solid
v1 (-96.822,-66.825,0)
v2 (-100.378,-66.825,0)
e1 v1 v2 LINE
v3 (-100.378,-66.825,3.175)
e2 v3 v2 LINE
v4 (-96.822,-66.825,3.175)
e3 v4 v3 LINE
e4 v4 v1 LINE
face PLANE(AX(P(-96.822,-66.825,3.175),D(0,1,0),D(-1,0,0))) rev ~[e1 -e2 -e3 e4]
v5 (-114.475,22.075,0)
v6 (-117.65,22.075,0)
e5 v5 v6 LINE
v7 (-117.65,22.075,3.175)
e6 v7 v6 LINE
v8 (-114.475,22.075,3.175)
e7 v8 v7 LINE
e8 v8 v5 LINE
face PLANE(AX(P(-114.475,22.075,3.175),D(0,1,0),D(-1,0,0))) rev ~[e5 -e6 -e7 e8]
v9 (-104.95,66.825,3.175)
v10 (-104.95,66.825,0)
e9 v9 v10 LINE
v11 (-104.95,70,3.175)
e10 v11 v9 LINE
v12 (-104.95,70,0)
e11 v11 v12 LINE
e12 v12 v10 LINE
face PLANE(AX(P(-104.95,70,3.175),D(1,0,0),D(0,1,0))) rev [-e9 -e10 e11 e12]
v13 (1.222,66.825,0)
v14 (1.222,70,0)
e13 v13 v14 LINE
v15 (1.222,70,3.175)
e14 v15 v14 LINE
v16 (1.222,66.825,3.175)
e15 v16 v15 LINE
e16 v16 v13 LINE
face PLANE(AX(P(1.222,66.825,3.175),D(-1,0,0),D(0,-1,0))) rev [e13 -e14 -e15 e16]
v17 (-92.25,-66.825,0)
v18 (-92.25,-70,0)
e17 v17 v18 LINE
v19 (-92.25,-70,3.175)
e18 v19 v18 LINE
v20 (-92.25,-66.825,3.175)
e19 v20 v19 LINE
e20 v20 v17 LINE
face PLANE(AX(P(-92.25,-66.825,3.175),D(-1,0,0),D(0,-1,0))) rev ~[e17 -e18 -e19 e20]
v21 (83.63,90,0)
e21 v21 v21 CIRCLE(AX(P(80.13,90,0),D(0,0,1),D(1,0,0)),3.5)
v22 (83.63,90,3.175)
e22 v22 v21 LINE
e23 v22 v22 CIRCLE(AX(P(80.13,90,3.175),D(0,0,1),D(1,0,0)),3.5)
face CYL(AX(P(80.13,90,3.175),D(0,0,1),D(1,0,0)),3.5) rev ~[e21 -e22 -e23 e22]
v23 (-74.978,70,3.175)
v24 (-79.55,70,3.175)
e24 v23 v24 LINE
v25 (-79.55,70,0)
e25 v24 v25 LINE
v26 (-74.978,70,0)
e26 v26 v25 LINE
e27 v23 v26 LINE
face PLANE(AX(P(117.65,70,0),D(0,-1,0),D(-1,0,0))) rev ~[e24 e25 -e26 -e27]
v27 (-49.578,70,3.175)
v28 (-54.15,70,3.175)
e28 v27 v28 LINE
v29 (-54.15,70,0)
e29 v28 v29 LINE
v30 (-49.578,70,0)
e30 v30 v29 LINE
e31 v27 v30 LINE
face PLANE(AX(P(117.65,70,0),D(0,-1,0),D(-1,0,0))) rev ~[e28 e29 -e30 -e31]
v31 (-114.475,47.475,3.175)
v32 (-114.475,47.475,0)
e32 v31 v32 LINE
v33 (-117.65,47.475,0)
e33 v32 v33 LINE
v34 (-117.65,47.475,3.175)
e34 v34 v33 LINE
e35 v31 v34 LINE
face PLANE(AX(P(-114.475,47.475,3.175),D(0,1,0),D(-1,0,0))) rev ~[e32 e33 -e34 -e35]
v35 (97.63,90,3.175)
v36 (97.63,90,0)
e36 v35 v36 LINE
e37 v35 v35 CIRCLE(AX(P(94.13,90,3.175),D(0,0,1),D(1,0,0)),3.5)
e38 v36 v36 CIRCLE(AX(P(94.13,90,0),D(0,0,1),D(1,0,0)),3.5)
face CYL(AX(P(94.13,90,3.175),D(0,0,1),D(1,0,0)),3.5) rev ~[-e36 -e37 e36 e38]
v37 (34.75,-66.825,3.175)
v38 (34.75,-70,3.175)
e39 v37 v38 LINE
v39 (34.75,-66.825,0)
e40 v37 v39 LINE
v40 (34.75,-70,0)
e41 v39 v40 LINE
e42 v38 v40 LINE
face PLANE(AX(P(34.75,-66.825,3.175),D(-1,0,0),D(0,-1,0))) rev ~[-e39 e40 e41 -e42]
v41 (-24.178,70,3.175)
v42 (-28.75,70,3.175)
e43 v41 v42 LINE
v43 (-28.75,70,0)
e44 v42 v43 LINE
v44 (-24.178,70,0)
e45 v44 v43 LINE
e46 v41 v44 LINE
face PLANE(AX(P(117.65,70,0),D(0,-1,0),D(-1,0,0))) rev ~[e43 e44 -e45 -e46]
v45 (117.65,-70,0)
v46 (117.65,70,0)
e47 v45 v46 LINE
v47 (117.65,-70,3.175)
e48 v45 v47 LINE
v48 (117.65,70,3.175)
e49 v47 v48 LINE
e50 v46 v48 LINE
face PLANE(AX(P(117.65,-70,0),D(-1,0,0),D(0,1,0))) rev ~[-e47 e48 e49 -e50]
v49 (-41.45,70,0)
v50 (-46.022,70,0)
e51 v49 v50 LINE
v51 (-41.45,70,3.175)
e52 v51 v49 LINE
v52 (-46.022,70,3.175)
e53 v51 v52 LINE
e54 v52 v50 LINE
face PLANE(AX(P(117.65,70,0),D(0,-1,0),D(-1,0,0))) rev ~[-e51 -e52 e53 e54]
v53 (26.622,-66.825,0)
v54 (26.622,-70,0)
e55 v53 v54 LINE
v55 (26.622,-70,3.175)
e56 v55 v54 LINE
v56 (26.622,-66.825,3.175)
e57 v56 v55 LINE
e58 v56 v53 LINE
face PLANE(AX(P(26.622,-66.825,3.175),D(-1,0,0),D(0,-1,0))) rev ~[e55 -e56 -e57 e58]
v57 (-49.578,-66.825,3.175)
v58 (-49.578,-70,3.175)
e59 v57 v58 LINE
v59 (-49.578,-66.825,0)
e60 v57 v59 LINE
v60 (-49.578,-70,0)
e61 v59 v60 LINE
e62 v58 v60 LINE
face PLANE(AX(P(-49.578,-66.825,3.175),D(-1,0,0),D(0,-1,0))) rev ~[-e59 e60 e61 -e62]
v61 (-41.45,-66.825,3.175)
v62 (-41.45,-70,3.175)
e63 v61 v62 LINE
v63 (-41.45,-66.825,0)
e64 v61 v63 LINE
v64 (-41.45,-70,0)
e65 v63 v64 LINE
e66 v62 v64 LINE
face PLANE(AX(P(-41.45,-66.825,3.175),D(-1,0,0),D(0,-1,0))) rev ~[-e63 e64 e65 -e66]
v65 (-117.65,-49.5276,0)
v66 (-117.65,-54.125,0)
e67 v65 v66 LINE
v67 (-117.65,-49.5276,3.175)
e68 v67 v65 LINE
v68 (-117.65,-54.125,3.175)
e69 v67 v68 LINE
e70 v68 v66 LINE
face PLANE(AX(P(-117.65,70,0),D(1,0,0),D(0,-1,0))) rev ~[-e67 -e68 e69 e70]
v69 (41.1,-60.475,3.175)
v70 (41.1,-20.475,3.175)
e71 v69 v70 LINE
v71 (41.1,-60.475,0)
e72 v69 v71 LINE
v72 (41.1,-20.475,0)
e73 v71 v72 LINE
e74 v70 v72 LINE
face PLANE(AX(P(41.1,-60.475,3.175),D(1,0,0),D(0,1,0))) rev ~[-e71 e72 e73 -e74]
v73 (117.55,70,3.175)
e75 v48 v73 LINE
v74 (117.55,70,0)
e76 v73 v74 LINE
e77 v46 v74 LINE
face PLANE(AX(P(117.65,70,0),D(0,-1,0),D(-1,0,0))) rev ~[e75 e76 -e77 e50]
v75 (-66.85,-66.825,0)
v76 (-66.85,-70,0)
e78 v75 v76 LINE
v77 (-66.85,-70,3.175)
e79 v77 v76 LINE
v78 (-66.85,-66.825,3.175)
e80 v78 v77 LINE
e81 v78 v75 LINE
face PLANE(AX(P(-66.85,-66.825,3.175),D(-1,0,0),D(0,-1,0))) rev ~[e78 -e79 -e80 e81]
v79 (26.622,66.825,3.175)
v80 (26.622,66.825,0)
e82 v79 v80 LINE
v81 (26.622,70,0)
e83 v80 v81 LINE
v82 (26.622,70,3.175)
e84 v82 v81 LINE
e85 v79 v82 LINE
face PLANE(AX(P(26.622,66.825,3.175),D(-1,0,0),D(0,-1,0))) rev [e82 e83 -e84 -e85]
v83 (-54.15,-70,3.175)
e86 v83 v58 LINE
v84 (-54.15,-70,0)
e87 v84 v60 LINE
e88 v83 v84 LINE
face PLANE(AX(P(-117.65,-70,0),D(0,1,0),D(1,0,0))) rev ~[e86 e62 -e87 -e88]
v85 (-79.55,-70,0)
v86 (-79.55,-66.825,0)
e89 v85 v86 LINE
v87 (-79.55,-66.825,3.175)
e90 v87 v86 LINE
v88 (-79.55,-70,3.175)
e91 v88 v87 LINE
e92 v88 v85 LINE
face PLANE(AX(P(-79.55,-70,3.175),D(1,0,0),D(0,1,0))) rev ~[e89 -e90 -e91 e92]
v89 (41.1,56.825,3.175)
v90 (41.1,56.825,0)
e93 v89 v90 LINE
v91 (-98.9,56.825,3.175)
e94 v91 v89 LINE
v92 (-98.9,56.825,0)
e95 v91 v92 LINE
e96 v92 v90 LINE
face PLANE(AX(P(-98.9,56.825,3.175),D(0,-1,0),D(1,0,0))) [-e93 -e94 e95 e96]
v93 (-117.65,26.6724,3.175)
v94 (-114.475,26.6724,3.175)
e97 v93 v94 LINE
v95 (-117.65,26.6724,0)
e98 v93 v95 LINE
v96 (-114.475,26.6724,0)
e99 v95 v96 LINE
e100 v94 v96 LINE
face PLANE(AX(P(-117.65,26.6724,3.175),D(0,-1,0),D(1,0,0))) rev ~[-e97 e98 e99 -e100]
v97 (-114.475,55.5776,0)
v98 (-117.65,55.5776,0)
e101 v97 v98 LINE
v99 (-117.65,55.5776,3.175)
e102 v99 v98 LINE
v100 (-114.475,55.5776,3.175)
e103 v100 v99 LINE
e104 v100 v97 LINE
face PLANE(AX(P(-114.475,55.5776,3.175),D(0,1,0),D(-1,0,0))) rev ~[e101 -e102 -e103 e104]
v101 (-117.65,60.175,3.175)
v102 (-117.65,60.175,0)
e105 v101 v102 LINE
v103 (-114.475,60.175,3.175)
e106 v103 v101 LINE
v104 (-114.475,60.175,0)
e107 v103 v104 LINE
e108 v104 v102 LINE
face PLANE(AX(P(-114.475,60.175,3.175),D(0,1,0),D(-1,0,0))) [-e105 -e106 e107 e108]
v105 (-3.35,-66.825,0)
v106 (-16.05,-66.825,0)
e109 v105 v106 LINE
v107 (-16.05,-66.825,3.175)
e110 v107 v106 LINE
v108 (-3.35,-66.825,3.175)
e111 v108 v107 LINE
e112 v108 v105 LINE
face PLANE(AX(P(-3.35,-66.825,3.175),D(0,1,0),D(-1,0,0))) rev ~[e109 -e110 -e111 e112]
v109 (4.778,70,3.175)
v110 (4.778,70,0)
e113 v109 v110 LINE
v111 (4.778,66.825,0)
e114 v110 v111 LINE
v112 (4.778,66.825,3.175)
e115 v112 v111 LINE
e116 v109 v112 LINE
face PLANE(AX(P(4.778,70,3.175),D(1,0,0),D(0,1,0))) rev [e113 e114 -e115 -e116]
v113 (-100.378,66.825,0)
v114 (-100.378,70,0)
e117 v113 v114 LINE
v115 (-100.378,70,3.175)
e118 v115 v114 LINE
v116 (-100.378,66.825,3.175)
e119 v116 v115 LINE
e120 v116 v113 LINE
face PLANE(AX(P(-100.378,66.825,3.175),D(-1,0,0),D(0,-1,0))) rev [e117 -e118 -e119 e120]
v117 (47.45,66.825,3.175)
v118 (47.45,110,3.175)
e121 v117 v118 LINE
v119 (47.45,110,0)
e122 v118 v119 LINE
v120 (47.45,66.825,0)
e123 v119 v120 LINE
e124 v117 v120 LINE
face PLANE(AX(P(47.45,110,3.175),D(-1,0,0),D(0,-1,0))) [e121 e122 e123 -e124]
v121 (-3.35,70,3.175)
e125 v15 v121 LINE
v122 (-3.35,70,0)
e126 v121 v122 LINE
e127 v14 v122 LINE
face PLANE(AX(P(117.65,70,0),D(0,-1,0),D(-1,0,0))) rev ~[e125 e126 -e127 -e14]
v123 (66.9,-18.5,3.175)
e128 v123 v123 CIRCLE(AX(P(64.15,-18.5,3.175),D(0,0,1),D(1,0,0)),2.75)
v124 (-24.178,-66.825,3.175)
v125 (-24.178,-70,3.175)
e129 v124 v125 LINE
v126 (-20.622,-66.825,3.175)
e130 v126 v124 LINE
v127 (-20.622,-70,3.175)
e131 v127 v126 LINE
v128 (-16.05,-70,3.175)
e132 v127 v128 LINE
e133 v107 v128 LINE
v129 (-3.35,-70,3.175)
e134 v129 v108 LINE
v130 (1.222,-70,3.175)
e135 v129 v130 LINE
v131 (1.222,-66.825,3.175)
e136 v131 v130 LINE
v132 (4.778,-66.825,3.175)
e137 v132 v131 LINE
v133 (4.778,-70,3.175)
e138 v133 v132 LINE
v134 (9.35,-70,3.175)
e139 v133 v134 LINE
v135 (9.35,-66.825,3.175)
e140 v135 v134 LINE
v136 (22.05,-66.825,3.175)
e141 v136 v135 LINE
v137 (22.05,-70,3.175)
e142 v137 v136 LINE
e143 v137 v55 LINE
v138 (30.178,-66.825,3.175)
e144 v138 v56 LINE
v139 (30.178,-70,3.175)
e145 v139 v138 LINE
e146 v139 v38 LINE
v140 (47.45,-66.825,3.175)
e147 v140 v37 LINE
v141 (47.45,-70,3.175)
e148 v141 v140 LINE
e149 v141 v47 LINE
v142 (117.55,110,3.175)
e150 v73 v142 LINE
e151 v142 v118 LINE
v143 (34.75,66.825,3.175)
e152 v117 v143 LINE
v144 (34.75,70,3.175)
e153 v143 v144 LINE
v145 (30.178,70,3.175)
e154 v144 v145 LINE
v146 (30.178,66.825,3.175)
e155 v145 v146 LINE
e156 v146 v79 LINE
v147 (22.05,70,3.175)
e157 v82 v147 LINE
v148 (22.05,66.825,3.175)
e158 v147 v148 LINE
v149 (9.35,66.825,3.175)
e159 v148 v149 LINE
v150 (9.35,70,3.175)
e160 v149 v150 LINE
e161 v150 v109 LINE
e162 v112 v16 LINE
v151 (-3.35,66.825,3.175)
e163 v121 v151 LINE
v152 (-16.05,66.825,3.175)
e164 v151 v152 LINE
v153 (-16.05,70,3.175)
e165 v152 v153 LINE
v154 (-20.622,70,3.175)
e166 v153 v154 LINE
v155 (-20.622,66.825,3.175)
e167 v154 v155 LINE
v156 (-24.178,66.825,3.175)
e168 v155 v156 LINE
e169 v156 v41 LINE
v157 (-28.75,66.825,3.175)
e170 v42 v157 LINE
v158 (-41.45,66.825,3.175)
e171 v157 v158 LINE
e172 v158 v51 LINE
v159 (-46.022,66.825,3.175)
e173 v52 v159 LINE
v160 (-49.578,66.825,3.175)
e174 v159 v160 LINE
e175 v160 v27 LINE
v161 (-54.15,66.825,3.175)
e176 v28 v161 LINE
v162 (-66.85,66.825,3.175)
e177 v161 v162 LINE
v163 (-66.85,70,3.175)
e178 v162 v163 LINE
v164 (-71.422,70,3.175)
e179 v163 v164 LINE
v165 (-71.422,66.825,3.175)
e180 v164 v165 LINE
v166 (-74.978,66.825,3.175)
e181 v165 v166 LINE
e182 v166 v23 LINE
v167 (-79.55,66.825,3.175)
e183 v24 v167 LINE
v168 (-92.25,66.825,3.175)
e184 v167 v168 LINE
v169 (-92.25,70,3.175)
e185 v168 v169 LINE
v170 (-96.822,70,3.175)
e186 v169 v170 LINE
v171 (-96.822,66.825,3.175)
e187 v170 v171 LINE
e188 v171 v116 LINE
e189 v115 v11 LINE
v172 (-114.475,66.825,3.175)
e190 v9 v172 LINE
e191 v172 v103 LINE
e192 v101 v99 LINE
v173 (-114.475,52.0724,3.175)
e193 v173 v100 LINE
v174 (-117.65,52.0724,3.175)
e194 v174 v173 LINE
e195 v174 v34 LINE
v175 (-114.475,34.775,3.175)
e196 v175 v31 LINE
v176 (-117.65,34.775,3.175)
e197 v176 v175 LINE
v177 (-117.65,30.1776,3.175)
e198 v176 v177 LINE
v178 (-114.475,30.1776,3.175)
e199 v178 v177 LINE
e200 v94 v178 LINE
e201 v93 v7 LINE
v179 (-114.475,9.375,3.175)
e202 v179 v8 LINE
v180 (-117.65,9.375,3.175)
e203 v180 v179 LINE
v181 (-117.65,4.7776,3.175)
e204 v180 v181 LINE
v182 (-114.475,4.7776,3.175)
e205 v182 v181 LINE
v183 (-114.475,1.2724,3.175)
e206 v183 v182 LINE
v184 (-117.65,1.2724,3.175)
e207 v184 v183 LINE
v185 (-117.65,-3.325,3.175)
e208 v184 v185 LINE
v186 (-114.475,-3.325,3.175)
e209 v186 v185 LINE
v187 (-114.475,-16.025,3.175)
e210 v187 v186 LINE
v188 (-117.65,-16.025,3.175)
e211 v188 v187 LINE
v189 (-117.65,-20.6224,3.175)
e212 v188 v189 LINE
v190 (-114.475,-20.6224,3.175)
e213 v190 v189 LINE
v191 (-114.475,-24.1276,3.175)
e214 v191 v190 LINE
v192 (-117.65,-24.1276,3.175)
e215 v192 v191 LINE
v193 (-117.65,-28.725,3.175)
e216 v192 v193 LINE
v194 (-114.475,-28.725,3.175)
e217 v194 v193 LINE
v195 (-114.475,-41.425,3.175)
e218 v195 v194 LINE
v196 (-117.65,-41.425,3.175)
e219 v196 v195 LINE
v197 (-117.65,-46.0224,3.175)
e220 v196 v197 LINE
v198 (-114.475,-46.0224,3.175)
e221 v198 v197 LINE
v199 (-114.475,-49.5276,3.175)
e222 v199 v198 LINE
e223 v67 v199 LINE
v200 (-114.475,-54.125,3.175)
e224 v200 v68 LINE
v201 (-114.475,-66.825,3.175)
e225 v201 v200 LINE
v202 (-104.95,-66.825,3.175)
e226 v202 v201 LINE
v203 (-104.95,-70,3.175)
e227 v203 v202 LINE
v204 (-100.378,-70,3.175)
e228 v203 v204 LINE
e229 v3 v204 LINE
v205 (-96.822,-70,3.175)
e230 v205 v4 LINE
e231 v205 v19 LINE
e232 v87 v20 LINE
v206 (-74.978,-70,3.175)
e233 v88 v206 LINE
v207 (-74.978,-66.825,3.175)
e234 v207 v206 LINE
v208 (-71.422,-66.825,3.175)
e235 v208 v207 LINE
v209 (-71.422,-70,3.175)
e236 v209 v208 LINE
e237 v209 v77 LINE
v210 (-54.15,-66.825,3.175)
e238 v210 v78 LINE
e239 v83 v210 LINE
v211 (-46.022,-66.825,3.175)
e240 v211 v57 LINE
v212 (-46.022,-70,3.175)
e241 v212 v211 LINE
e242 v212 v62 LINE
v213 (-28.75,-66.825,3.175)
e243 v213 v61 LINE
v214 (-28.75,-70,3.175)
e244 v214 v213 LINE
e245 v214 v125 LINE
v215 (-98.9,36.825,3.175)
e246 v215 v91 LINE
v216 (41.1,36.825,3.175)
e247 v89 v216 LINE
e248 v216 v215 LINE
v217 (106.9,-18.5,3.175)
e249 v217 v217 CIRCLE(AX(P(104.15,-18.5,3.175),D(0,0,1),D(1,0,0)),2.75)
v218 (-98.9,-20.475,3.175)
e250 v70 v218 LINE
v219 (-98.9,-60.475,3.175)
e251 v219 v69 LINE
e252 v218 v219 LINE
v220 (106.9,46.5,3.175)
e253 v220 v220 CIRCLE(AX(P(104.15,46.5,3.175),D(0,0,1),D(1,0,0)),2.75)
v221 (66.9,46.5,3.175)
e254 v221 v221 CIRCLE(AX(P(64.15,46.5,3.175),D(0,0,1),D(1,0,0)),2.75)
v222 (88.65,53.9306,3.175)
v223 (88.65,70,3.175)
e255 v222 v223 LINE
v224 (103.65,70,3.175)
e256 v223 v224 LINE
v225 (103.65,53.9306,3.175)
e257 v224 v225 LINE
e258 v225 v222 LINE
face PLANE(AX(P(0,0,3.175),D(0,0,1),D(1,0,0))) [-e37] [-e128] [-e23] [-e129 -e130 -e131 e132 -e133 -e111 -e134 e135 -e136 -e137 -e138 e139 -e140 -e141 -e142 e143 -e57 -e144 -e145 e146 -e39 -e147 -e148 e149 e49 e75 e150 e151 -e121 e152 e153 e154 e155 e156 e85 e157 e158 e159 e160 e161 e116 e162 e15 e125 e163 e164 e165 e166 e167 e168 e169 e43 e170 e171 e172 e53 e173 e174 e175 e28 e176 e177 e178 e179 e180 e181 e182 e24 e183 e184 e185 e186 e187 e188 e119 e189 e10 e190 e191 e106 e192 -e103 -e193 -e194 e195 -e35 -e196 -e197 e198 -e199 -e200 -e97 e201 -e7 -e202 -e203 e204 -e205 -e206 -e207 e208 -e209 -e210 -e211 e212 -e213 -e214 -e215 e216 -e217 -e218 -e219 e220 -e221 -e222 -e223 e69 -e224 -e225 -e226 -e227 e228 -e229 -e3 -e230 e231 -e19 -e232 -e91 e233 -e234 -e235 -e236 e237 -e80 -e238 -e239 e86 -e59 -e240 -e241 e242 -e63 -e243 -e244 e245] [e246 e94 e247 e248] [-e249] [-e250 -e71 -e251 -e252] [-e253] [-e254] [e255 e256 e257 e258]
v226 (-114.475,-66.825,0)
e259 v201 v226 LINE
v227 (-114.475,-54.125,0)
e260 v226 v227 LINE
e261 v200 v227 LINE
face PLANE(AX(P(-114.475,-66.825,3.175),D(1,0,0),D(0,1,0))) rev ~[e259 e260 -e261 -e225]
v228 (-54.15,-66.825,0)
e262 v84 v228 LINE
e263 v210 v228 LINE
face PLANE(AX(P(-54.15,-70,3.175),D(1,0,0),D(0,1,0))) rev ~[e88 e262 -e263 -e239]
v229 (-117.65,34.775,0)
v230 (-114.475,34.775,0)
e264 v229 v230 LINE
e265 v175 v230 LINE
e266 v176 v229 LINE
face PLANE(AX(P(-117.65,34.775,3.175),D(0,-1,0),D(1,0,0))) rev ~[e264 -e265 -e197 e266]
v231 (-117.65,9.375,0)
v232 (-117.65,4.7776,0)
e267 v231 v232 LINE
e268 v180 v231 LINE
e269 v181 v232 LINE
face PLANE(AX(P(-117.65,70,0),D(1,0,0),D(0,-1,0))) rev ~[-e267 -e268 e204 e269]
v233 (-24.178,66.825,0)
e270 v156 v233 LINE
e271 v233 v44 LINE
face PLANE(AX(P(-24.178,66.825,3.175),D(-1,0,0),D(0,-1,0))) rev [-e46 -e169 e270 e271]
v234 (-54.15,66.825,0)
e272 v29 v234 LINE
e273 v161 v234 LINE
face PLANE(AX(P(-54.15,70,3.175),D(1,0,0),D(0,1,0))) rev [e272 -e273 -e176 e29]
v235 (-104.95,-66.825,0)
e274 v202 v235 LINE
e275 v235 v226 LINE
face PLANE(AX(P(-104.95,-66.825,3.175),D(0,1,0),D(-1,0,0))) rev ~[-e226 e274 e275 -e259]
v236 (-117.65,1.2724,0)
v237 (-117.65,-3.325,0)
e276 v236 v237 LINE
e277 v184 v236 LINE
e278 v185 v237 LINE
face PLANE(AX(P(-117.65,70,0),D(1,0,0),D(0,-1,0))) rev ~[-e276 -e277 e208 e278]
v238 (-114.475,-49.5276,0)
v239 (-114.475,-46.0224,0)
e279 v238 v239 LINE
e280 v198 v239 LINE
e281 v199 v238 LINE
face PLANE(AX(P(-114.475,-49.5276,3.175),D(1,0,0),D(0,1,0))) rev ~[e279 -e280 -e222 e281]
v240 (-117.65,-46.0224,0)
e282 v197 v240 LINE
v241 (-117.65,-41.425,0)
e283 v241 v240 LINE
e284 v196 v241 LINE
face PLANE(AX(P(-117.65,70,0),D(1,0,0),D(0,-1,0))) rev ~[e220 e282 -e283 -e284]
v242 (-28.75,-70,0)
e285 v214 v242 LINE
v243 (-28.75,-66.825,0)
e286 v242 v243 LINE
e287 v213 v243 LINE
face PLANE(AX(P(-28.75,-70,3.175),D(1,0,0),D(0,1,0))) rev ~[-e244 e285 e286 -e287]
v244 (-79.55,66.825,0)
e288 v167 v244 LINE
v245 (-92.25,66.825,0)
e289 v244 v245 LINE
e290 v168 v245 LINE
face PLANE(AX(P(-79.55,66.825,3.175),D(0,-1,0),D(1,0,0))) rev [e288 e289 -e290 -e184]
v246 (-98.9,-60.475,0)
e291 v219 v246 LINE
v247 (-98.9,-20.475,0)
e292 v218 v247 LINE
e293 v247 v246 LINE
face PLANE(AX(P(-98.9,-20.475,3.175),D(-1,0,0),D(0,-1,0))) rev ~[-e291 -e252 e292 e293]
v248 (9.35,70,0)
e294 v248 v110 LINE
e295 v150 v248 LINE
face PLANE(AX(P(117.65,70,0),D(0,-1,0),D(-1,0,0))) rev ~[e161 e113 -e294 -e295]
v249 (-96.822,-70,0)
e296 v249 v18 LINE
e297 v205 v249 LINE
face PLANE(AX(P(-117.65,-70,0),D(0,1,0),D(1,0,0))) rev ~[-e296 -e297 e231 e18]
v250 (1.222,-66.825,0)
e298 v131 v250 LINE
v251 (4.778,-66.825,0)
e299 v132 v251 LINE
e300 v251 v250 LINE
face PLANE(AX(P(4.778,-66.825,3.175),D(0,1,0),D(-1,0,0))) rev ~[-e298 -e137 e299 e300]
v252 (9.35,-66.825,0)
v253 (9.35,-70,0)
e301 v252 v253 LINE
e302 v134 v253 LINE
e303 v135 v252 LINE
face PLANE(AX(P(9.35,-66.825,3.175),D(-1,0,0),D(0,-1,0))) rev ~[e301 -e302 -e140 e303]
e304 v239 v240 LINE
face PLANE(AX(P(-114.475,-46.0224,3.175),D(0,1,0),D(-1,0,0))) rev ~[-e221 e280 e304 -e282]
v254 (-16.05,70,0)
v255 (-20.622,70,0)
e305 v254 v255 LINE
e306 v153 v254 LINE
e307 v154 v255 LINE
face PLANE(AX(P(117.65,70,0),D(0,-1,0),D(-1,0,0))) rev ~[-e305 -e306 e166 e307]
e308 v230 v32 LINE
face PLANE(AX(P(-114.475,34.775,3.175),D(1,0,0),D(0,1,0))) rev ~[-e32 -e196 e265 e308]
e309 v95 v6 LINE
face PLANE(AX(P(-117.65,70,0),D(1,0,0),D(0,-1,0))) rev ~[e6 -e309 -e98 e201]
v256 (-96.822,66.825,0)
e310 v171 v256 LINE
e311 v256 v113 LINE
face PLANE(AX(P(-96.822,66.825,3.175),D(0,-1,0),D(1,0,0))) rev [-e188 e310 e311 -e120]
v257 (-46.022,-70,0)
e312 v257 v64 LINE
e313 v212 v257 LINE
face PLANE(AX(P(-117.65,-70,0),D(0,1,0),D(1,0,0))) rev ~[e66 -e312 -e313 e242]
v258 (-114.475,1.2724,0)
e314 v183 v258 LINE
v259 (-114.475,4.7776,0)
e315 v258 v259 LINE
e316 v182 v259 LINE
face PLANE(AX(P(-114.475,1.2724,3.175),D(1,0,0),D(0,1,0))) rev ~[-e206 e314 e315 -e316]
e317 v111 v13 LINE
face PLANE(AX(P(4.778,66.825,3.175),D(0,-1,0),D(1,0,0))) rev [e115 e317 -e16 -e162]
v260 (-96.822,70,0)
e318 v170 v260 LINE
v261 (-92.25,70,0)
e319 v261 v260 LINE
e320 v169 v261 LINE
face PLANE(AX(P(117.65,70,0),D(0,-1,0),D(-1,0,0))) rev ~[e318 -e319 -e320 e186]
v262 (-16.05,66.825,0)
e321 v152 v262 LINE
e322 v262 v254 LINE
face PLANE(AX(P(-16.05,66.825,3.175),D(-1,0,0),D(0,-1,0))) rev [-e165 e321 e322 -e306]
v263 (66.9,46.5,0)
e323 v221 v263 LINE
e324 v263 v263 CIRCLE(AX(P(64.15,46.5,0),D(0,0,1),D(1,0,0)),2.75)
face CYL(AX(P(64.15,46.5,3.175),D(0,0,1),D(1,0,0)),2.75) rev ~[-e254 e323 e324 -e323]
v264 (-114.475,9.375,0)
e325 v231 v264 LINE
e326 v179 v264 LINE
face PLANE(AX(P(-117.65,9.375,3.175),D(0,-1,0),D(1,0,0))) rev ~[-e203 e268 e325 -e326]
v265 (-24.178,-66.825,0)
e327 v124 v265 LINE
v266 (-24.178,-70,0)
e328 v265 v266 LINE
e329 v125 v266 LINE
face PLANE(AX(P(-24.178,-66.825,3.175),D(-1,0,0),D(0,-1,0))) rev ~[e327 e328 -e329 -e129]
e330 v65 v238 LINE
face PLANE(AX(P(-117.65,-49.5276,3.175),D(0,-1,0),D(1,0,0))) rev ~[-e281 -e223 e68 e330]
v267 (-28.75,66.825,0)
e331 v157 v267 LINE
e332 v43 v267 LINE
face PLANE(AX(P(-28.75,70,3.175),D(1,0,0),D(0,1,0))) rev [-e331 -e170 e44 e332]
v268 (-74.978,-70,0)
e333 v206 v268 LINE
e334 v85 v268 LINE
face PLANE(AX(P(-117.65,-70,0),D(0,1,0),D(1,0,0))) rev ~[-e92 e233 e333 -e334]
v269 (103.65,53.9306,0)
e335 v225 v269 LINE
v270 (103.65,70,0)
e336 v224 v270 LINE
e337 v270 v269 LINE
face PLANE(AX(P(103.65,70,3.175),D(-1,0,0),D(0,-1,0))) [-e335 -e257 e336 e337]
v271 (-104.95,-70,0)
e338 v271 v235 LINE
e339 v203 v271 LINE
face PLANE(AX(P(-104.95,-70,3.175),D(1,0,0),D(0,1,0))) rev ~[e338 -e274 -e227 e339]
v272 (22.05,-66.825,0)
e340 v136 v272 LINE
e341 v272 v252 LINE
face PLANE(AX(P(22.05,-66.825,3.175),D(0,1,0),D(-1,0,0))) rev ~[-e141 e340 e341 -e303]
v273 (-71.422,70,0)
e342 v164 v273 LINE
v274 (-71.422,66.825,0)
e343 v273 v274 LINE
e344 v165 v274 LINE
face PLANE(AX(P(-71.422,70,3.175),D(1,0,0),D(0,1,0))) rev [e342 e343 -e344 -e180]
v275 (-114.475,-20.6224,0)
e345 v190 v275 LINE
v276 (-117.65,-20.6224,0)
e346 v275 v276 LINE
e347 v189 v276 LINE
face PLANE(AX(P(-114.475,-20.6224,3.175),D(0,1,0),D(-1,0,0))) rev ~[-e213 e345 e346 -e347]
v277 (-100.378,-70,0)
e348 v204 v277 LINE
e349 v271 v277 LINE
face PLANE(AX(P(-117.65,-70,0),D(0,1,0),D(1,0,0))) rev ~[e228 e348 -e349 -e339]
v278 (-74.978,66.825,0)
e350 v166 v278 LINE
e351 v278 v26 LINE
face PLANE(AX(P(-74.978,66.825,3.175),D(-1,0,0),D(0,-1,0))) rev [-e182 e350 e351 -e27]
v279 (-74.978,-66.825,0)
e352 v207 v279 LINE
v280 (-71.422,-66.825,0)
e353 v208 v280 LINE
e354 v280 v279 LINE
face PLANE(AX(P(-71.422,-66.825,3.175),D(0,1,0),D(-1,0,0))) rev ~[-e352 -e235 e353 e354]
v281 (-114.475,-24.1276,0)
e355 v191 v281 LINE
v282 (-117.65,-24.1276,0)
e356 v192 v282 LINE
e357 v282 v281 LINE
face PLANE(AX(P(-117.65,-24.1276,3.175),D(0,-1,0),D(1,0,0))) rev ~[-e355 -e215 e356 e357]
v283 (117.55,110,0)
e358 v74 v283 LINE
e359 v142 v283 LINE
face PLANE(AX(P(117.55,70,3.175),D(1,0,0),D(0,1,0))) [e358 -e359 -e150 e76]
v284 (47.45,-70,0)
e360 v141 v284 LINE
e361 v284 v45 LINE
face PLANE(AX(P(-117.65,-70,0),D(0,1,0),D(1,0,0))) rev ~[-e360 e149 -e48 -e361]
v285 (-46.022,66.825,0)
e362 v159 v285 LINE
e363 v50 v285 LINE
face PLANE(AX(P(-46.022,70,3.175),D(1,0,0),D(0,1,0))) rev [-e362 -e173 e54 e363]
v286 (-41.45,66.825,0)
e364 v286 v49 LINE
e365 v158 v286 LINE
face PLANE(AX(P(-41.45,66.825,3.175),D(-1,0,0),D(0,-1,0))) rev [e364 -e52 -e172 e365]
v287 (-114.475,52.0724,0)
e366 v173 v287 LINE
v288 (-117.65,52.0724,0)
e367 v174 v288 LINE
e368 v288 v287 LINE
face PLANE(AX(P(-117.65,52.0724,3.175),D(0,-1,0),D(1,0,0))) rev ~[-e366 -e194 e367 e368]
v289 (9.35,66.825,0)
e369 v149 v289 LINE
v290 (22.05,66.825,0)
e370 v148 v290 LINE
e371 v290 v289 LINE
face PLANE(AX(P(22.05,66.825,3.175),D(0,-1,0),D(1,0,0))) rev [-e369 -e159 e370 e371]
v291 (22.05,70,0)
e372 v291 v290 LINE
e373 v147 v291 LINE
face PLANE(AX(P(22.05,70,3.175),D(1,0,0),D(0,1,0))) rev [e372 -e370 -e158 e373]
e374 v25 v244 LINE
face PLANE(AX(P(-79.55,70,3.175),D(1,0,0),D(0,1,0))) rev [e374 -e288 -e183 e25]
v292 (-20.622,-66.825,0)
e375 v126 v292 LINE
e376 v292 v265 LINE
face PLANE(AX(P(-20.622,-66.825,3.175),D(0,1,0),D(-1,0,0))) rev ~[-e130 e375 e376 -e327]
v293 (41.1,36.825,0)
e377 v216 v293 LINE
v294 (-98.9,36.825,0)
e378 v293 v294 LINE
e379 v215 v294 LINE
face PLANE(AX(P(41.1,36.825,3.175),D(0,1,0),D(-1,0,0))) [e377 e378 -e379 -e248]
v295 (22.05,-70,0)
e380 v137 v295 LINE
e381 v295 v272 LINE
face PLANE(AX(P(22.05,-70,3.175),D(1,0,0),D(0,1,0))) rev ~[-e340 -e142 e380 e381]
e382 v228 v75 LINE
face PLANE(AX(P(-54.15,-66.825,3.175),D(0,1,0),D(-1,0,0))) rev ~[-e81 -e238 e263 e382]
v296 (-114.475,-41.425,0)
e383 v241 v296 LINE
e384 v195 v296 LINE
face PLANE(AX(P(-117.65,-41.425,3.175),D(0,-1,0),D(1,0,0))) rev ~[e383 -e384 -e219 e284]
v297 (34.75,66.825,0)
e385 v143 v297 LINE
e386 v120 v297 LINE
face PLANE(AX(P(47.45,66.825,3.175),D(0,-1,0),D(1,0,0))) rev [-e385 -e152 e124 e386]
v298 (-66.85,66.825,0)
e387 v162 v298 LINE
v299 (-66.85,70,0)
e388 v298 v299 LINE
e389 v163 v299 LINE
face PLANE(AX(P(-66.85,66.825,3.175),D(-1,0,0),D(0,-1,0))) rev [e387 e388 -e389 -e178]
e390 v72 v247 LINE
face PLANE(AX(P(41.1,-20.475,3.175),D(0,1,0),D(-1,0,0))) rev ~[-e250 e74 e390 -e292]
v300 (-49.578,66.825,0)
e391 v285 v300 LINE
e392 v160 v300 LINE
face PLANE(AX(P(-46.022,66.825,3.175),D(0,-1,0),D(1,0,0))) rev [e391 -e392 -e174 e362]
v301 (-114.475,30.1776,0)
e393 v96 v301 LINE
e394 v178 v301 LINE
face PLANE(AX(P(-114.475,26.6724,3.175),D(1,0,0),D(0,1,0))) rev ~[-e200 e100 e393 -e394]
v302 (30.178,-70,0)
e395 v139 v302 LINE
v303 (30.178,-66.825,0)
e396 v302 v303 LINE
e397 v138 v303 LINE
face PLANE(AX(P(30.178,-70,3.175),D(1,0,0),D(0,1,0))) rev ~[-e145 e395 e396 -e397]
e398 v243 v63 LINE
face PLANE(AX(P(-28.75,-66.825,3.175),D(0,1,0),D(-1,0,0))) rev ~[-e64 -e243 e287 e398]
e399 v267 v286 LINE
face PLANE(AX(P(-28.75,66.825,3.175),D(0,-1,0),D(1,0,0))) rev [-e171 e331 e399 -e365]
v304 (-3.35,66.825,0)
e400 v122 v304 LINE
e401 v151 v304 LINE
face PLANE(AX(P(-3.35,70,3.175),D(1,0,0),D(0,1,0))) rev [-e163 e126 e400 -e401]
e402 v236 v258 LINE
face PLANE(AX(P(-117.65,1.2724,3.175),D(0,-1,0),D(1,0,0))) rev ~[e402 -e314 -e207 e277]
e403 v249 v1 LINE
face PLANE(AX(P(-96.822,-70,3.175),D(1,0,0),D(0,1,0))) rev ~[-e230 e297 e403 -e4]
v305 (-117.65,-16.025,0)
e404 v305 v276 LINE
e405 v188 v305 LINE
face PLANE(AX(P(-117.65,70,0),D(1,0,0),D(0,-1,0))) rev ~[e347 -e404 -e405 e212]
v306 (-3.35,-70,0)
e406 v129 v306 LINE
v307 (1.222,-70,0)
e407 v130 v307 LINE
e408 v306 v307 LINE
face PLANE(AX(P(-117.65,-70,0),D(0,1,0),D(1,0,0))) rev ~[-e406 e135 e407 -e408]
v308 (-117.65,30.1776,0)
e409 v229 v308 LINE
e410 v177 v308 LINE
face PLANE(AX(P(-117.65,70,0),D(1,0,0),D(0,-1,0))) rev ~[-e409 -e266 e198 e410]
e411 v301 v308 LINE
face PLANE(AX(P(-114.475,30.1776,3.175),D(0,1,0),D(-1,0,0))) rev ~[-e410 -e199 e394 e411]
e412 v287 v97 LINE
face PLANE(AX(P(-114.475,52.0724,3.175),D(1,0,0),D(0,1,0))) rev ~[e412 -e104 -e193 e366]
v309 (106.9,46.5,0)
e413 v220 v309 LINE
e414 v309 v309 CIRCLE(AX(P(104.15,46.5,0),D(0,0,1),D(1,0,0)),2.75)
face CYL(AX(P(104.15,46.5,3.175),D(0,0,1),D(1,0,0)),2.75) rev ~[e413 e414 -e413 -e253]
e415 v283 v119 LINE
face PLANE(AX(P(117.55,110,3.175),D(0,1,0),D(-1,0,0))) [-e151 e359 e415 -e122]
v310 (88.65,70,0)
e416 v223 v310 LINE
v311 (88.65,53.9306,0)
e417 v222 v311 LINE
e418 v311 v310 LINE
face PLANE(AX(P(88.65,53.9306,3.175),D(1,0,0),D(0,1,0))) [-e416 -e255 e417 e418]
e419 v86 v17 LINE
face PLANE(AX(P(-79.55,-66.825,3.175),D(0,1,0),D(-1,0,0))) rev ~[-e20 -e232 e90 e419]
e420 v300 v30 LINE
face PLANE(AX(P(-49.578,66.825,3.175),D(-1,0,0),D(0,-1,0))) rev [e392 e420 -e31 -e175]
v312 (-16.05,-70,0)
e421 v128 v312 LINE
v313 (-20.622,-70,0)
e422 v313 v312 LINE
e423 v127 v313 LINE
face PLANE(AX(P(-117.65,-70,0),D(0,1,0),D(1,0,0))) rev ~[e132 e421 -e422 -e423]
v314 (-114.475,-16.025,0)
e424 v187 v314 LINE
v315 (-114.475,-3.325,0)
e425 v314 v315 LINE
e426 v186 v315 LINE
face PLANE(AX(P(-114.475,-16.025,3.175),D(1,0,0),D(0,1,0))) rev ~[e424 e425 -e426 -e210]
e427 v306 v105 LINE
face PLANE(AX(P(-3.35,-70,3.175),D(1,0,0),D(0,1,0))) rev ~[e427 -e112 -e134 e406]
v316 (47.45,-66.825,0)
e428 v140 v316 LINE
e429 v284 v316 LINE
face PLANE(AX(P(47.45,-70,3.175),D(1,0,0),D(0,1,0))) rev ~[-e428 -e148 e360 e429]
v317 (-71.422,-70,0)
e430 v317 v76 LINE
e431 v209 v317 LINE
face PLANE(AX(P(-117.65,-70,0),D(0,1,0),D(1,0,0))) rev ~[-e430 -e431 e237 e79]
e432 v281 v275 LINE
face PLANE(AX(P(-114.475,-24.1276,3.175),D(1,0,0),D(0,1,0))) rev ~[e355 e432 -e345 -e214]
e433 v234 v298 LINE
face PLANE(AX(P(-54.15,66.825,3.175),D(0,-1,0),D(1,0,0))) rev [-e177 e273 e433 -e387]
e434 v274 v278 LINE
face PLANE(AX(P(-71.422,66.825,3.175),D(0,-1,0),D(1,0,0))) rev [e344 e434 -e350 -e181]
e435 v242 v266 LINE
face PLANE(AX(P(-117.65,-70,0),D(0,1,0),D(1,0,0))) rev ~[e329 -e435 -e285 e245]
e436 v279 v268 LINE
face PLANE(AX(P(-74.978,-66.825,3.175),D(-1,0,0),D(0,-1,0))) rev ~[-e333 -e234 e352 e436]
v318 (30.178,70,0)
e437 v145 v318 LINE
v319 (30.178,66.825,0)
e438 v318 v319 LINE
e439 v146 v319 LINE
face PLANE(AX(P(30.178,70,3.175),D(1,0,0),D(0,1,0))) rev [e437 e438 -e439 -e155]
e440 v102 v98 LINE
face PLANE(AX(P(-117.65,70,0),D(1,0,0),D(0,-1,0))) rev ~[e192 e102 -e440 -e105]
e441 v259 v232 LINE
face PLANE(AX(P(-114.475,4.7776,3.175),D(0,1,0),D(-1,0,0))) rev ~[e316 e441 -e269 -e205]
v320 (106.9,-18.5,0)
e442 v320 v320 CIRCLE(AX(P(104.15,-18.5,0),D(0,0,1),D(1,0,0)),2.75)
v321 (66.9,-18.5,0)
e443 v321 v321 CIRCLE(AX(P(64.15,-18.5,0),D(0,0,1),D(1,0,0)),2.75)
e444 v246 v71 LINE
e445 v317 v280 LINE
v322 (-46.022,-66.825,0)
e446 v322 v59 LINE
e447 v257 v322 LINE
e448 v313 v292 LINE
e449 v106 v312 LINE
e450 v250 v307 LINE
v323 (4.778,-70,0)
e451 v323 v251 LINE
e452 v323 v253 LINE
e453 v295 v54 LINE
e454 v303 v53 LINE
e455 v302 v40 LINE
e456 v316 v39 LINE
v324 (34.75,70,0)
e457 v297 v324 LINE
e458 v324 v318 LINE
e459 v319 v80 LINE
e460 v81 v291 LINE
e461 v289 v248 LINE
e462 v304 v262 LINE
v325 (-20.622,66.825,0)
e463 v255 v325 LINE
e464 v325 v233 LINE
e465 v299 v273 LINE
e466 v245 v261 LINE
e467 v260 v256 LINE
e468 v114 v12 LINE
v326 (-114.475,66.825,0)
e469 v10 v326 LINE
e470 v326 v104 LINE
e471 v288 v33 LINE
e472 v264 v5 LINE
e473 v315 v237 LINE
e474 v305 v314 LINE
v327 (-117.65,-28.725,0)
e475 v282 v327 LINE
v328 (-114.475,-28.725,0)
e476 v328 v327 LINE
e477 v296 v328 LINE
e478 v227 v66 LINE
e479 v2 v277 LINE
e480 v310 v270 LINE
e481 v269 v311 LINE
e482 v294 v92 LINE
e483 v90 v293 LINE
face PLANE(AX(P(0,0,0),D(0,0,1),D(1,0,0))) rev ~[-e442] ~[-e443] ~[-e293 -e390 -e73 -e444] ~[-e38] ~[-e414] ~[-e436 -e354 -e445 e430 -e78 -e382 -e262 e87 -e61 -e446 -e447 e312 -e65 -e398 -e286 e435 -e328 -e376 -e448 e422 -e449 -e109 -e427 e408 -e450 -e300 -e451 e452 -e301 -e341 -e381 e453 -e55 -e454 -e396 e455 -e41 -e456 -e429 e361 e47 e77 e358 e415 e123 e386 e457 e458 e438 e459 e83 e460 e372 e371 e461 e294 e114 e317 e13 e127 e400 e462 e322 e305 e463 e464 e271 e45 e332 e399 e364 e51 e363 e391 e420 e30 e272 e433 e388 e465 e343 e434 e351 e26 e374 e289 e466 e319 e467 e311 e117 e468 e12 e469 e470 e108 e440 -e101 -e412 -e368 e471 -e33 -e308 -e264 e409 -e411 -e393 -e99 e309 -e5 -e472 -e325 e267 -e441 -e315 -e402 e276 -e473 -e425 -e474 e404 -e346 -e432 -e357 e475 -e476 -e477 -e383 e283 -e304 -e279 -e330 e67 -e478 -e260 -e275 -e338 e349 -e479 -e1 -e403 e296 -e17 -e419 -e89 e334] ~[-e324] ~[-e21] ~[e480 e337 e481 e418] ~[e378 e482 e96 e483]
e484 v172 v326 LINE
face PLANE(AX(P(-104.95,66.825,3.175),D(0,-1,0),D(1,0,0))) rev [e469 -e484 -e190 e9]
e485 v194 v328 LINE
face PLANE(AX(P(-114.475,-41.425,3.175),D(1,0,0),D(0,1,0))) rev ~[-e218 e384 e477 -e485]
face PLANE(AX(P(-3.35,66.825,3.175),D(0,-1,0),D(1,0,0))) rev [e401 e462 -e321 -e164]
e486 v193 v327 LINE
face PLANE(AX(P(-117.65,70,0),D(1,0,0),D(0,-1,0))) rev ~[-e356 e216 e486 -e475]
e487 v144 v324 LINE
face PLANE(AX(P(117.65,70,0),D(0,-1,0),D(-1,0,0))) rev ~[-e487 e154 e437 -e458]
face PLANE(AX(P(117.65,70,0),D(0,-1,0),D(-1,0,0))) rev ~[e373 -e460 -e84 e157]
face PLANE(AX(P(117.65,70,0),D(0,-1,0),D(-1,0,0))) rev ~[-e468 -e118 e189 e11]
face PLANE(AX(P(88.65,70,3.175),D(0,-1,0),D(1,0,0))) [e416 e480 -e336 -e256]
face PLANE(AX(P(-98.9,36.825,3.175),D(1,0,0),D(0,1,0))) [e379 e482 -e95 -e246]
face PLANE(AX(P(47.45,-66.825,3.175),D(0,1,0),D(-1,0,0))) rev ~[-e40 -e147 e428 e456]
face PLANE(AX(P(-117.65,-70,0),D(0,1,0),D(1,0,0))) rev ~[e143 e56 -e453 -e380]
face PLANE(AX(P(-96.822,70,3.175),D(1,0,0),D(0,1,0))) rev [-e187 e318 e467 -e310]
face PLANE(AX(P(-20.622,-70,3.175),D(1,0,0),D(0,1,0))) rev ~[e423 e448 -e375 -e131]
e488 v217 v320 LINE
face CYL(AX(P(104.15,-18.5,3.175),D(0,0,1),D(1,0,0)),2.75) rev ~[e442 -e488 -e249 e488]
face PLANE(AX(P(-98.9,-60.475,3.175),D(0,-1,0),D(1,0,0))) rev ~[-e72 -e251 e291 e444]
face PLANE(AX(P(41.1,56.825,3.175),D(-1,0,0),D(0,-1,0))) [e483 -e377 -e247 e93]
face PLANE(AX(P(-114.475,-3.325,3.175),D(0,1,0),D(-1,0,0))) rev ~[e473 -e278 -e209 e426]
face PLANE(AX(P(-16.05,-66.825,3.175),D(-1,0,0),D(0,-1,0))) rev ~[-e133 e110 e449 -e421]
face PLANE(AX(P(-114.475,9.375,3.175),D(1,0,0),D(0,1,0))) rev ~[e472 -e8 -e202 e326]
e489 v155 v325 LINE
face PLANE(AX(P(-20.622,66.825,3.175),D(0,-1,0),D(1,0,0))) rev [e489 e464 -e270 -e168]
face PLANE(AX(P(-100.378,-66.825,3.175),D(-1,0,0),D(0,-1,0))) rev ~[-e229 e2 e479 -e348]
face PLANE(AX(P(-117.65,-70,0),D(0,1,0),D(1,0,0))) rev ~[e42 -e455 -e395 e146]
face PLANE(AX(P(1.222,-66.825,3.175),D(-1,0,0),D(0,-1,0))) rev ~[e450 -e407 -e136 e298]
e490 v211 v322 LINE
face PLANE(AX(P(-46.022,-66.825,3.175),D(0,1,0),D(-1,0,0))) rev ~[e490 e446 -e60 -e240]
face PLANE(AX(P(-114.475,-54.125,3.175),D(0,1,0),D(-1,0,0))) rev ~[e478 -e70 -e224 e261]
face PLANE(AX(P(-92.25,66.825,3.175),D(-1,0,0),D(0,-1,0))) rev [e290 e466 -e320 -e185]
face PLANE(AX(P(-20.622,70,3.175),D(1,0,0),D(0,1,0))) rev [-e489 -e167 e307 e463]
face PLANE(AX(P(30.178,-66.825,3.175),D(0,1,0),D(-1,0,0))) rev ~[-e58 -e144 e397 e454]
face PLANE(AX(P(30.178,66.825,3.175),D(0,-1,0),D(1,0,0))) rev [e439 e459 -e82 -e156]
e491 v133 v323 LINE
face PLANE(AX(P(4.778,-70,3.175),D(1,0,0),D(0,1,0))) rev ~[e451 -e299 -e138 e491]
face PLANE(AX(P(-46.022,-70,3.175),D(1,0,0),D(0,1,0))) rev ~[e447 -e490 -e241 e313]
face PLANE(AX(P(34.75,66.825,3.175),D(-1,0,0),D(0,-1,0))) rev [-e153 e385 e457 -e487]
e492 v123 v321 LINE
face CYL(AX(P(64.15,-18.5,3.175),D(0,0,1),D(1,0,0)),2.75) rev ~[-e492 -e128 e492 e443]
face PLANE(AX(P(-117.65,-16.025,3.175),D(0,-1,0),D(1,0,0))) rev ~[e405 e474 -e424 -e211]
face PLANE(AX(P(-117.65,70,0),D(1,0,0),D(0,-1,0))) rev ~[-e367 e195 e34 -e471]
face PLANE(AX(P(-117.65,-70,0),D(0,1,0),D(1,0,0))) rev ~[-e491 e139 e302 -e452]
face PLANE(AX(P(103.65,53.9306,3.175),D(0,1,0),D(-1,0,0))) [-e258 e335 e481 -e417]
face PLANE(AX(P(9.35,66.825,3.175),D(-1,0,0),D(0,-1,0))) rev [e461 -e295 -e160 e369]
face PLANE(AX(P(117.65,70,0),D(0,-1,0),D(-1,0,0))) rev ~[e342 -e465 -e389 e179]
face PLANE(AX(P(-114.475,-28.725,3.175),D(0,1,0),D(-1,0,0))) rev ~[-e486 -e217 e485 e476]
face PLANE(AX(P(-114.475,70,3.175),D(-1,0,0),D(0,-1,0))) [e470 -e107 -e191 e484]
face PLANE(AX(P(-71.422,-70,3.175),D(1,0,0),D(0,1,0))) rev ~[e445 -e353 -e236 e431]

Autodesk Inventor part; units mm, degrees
ref_plane "YZ Plane" through (0, 0, 0) normal (1, 0, 0) x (0, 1, 0)
ref_plane "XZ Plane" through (0, 0, 0) normal (0, 1, 0) x (-1, 0, 0)
ref_plane "XY Plane" through (0, 0, 0) normal (0, 0, 1) x (1, 0, 0)
sketch "Sketch1" plane through (0, 0, 0) normal (0, 0, 1) x (1, 0, 0)
  line L0 (-117.65, -70) -> (117.65, -70)
  line L1 (117.65, -70) -> (117.65, 70)
  line L2 (117.65, 70) -> (-117.65, 70)
  line L3 (-117.65, 70) -> (-117.65, -70)
  point P0 (0, 0)
  point P1 (-117.65, 0)
  point P2 (0, 70)
  dimension "d0" = 235.3
  dimension "d1" = 140
extrude "Extrusion1" add sketch "Sketch1" along normal blind 3.175
sketch "Sketch2" plane through (0, 0, 3.175) normal (0, 0, 1) x (1, 0, 0)
  circle A0 centre (104.15, 46.5) radius 2.75
  line L0 (117.65, 70) -> (-117.65, 70) projected
  line L1 (117.65, -70) -> (117.65, 70) projected
  circle A1 centre (64.15, 46.5) radius 2.75
  circle A2 centre (104.15, -18.5) radius 2.75
  circle A3 centre (64.15, -18.5) radius 2.75
  point P0 (0, 0)
  dimension "d4" = 23.5
  dimension "d5" = 13.5
  dimension "d6" = 5.5
  dimension "d7" = 5.5
  dimension "d8" = 23.5
  dimension "d9" = 40
  dimension "d10" = 5.5
  dimension "d11" = 13.5
  dimension "d12" = 65
  dimension "d13" = 5.5
  dimension "d14" = 40
  dimension "d15" = 65
extrude "Extrusion2" cut sketch "Sketch2" against normal through all
sketch "Sketch3" plane through (0, 0, 3.175) normal (0, 0, 1) x (1, 0, 0)
  line L0 (-117.65, 70) -> (-117.65, -70) projected
  line L1 (-117.65, -70) -> (-104.95, -70)
  line L2 (-104.95, -70) -> (-104.95, -66.825)
  line L3 (-104.95, -66.825) -> (-117.65, -66.825)
  line L4 (-117.65, -66.825) -> (-117.65, -70)
  point P0 (0, 0)
  dimension "d18" = 12.7
  dimension "d19" = 3.175
extrude "Extrusion3" cut sketch "Sketch3" against normal through all
sketch "Sketch4" plane through (0, 0, 3.175) normal (0, 0, 1) x (1, 0, 0)
  line L0 (-104.95, -70) -> (117.65, -70) projected
  line L1 (-100.378, -70) -> (-96.822, -70)
  line L2 (-96.822, -70) -> (-96.822, -66.825)
  line L3 (-96.822, -66.825) -> (-100.378, -66.825)
  line L4 (-100.378, -66.825) -> (-100.378, -70)
  line L5 (-104.95, -66.825) -> (-104.95, -70) projected
  point P0 (0, 0)
  dimension "d22" = 3.556
  dimension "d23" = 3.175
  dimension "d24" = 4.572
extrude "Extrusion4" cut sketch "Sketch4" against normal through all
pattern_linear "Rectangular Pattern1" count 6 spacing 25.4 along (1, 0, 0) of "Extrusion3", "Extrusion4"
sketch "Sketch5" plane through (0, 0, 3.175) normal (0, 0, 1) x (1, 0, 0)
  line L0 (-82.65, -45) -> (81.35, -45)
  line L1 (81.35, -45) -> (81.35, 55)
  line L2 (81.35, 55) -> (-82.65, 55)
  line L3 (-82.65, 55) -> (-82.65, -45)
  line L4 (117.65, 70) -> (-117.65, 70) projected
  line L5 (-117.65, 70) -> (-117.65, -66.825) projected
  point P0 (0, 0)
  dimension "d30" = 164
  dimension "d31" = 100
  dimension "d32" = 15
  dimension "d33" = 35
extrude "Extrusion5" [suppressed]
sketch "Sketch6" plane through (0, 0, 3.175) normal (0, 0, 1) x (1, 0, 0)
  circle A0 centre (-195.0968, -60.6866) radius 1.6
  line L0 (-190.0468, 40.3134) -> (-190.0468, -59.6866) projected
  line L1 (-26.0468, -59.6866) -> (-190.0468, -59.6866) projected
  circle A1 centre (-195.0968, 41.3134) radius 1.6
  line L2 (-190.0468, 40.3134) -> (-26.0468, 40.3134) projected
  circle A2 centre (-20.9968, 41.3134) radius 1.6
  line L3 (-26.0468, 40.3134) -> (-26.0468, -59.6866) projected
  circle A3 centre (-20.9968, -60.6866) radius 1.6
  point P0 (0, 0)
  dimension "d36" = 3.2
  dimension "d37" = 5.05
  dimension "d38" = 1
  dimension "d39" = 3.2
  dimension "d40" = 1
  dimension "d41" = 5.05
  dimension "d42" = 3.2
  dimension "d43" = 1
  dimension "d44" = 5.05
  dimension "d45" = 3.2
  dimension "d46" = 1
  dimension "d47" = 5.05
extrude "Extrusion6" [suppressed]
sketch "Sketch7" plane through (0, 0, 3.175) normal (0, 0, 1) x (1, 0, 0)
  line L0 (-117.65, 70) -> (-117.65, -66.825) projected
  line L1 (-117.65, -54.125) -> (-111.3, -54.125)
  line L2 (-111.3, -54.125) -> (-111.3, -41.425)
  line L3 (-111.3, -41.425) -> (-117.65, -41.425)
  line L4 (-117.65, -41.425) -> (-117.65, -54.125)
  line L5 (-117.65, -66.825) -> (-104.95, -66.825) projected
  point P0 (0, 0)
  dimension "d50" = 6.35
  dimension "d51" = 12.7
  dimension "d52" = 12.7
extrude "Extrusion7" [suppressed]
sketch "Sketch8" plane through (0, 0, 3.175) normal (0, 0, 1) x (1, 0, 0)
  line L0 (-148.4968, -45.6366) -> (-148.4968, -32.9366) projected
  line L1 (-148.4968, -41.0646) -> (-145.9568, -41.0646)
  line L2 (-145.9568, -41.0646) -> (-145.9568, -37.5086)
  line L3 (-145.9568, -37.5086) -> (-148.4968, -37.5086)
  line L4 (-148.4968, -37.5086) -> (-148.4968, -41.0646)
  line L5 (-154.8468, -32.9366) -> (-148.4968, -32.9366) projected
  point P0 (0, 0)
  dimension "d55" = 3.556
  dimension "d56" = 4.572
  dimension "d57" = 2.54
extrude "Extrusion8" [suppressed]
sketch "Sketch9" plane through (0, 0, 3.175) normal (0, 0, 1) x (1, 0, 0)
  line L0 (-145.9568, -43.2553) -> (-143.1786, -43.2553)
  line L1 (-143.1786, -43.2553) -> (-143.1786, -35.3178)
  line L2 (-143.1786, -35.3178) -> (-145.9568, -35.3178)
  line L3 (-145.9568, -35.3178) -> (-145.9568, -43.2553)
  line L4 (-145.9568, -37.5086) -> (-145.9568, -41.0646) projected
  line L5 (-117.65, 70) -> (-117.65, -66.825) projected
  line L6 (-117.65, -66.825) -> (-104.95, -66.825) projected
  line L7 (-104.95, -66.825) -> (-104.95, -70) projected
  line L8 (-104.95, -70) -> (-100.378, -70) projected
  line L9 (-100.378, -70) -> (-100.378, -66.825) projected
  line L10 (-100.378, -66.825) -> (-96.822, -66.825) projected
  line L11 (-96.822, -66.825) -> (-96.822, -70) projected
  line L12 (-96.822, -70) -> (-92.25, -70) projected
  line L13 (-92.25, -70) -> (-92.25, -66.825) projected
  line L14 (-92.25, -66.825) -> (-79.55, -66.825) projected
  line L15 (-79.55, -66.825) -> (-79.55, -70) projected
  line L16 (-79.55, -70) -> (-74.978, -70) projected
  line L17 (-74.978, -70) -> (-74.978, -66.825) projected
  line L18 (-74.978, -66.825) -> (-71.422, -66.825) projected
  line L19 (-71.422, -66.825) -> (-71.422, -70) projected
  line L20 (-71.422, -70) -> (-66.85, -70) projected
  line L21 (-66.85, -70) -> (-66.85, -66.825) projected
  line L22 (-66.85, -66.825) -> (-54.15, -66.825) projected
  line L23 (-54.15, -66.825) -> (-54.15, -70) projected
  line L24 (-54.15, -70) -> (-49.578, -70) projected
  line L25 (-49.578, -70) -> (-49.578, -66.825) projected
  line L26 (-49.578, -66.825) -> (-46.022, -66.825) projected
  line L27 (-46.022, -66.825) -> (-46.022, -70) projected
  line L28 (-46.022, -70) -> (-41.45, -70) projected
  line L29 (-41.45, -70) -> (-41.45, -66.825) projected
  line L30 (-41.45, -66.825) -> (-28.75, -66.825) projected
  line L31 (-28.75, -66.825) -> (-28.75, -70) projected
  line L32 (-28.75, -70) -> (-24.178, -70) projected
  line L33 (-24.178, -70) -> (-24.178, -66.825) projected
  line L34 (-24.178, -66.825) -> (-20.622, -66.825) projected
  line L35 (-20.622, -66.825) -> (-20.622, -70) projected
  line L36 (-20.622, -70) -> (-16.05, -70) projected
  line L37 (-16.05, -70) -> (-16.05, -66.825) projected
  line L38 (-16.05, -66.825) -> (-3.35, -66.825) projected
  line L39 (-3.35, -66.825) -> (-3.35, -70) projected
  line L40 (-3.35, -70) -> (1.222, -70) projected
  line L41 (1.222, -70) -> (1.222, -66.825) projected
  line L42 (1.222, -66.825) -> (4.778, -66.825) projected
  line L43 (4.778, -66.825) -> (4.778, -70) projected
  line L44 (4.778, -70) -> (9.35, -70) projected
  line L45 (9.35, -70) -> (9.35, -66.825) projected
  line L46 (9.35, -66.825) -> (22.05, -66.825) projected
  line L47 (22.05, -66.825) -> (22.05, -70) projected
  line L48 (22.05, -70) -> (26.622, -70) projected
  line L49 (26.622, -70) -> (26.622, -66.825) projected
  line L50 (26.622, -66.825) -> (30.178, -66.825) projected
  line L51 (30.178, -66.825) -> (30.178, -70) projected
  line L52 (117.65, -70) -> (117.65, 70) projected
  line L53 (117.65, 70) -> (-117.65, 70) projected
  circle A0 centre (104.15, -18.5) radius 2.75 projected
  circle A1 centre (104.15, 46.5) radius 2.75 projected
  circle A2 centre (64.15, 46.5) radius 2.75 projected
  circle A3 centre (64.15, -18.5) radius 2.75 projected
  line L54 (30.178, -70) -> (117.65, -70) projected
  point P0 (0, 0)
  dimension "d60" = 2.7781
  dimension "d61" = 7.9375
extrude "Extrusion9" [suppressed]
sketch "Sketch10" plane through (0, 0, 3.175) normal (0, 0, 1) x (1, 0, 0)
  line L0 (-143.1786, -41.0643) -> (-102.41, -41.0643)
  line L1 (-102.41, -41.0643) -> (-102.41, -37.5088)
  line L2 (-102.41, -37.5088) -> (-143.1786, -37.5088)
  line L3 (-143.1786, -37.5088) -> (-143.1786, -41.0643)
  line L4 (-145.9568, -35.3178) -> (-143.1786, -35.3178) projected
  line L5 (-143.1786, -43.2553) -> (-145.9568, -43.2553) projected
  line L6 (-143.1786, -35.3178) -> (-143.1786, -43.2553) projected
  line L7 (-117.65, 70) -> (-117.65, -66.825) projected
  point P0 (0, 0)
  point P1 (-154.8468, -45.6366)
  point P2 (-117.65, -66.825)
  dimension "d65" = 2.191
  dimension "d66" = 2.191
  dimension "d67" = 0
  dimension "d68" = 15.24
extrude "Extrusion10" [suppressed]
sketch "Sketch11" plane through (0, 0, 3.175) normal (0, 0, 1) x (1, 0, 0)
  line L0 (-117.65, 70) -> (-117.65, -66.825) projected
  line L1 (-117.65, -66.825) -> (-114.475, -66.825)
  line L2 (-114.475, -66.825) -> (-114.475, -54.125)
  line L3 (-114.475, -54.125) -> (-117.65, -54.125)
  line L4 (-117.65, -54.125) -> (-117.65, -66.825)
  point P0 (0, 0)
  dimension "d71" = 3.175
  dimension "d72" = 12.7
extrude "Extrusion11" cut sketch "Sketch11" against normal through all
sketch "Sketch12" plane through (0, 0, 3.175) normal (0, 0, 1) x (1, 0, 0)
  line L0 (-117.65, 70) -> (-117.65, -54.125) projected
  line L1 (-117.65, -49.5276) -> (-114.475, -49.5276)
  line L2 (-114.475, -49.5276) -> (-114.475, -46.0224)
  line L3 (-114.475, -46.0224) -> (-117.65, -46.0224)
  line L4 (-117.65, -46.0224) -> (-117.65, -49.5276)
  line L5 (-114.475, -54.125) -> (-117.65, -54.125) projected
  point P0 (0, 0)
  dimension "d75" = 3.5052
  dimension "d76" = 3.175
  dimension "d77" = 4.5974
extrude "Extrusion12" cut sketch "Sketch12" against normal through all
pattern_linear "Rectangular Pattern2" count 5 spacing 25.4 along (0, 1, 0) of "Extrusion11", "Extrusion12"
sketch "Sketch13" plane through (0, 0, 3.175) normal (0, 0, 1) x (1, 0, 0)
  line L0 (117.65, 70) -> (-117.65, 70) projected
  line L1 (-117.65, 70) -> (-111.3, 70)
  line L2 (-111.3, 70) -> (-111.3, 34.775)
  line L3 (-111.3, 34.775) -> (-117.65, 34.775)
  line L4 (-117.65, 34.775) -> (-117.65, 70)
  line L5 (-117.65, 30.1776) -> (-114.475, 30.1776) projected
  point P0 (0, 0)
  dimension "d83" = 6.35
  dimension "d84" = 4.5974
extrude "Extrusion13" [suppressed]
sketch "Sketch14" plane through (-190.0468, -59.6866, 6.35) normal (0, 1, 0) x (1, 0, 0)
  point P0 (190.0468, 6.35)
sketch "Sketch15" plane through (0, 0, 3.175) normal (0, 0, 1) x (1, 0, 0)
  point P0 (0, 0)
sketch "Sketch16" plane through (0, 0, 3.175) normal (0, 0, 1) x (1, 0, 0)
  line L0 (117.65, 70) -> (-117.65, 70) projected
  line L1 (88.65, 70) -> (103.65, 70)
  line L2 (103.65, 70) -> (103.65, 53.9306)
  line L3 (103.65, 53.9306) -> (88.65, 53.9306)
  line L4 (88.65, 53.9306) -> (88.65, 70)
  line L5 (117.65, -70) -> (117.65, 70) projected
  point P0 (0, 0)
  point P1 (-148.4968, 55.3134)
  dimension "d87" = 15
  dimension "d88" = 14
extrude "Extrusion14" cut sketch "Sketch16" against normal through all
sketch "Sketch17" plane through (0, 0, 3.175) normal (0, 0, 1) x (1, 0, 0)
  line L0 (88.65, 70) -> (-117.65, 70) projected
  line L1 (-117.65, 70) -> (-114.475, 70)
  line L2 (-114.475, 70) -> (-114.475, 60.175)
  line L3 (-114.475, 60.175) -> (-117.65, 60.175)
  line L4 (-117.65, 60.175) -> (-117.65, 70)
  line L5 (-114.475, 55.5776) -> (-117.65, 55.5776) projected
  point P0 (0, 0)
  dimension "d91" = 3.175
  dimension "d92" = 4.5974
extrude "Extrusion15" cut sketch "Sketch17" against normal through all
sketch "Sketch18" plane through (0, 0, 3.175) normal (0, 0, 1) x (1, 0, 0)
  line L0 (30.178, -70) -> (117.65, -70) projected
  line L1 (34.75, -70) -> (47.45, -70)
  line L2 (47.45, -70) -> (47.45, -66.825)
  line L3 (47.45, -66.825) -> (34.75, -66.825)
  line L4 (34.75, -66.825) -> (34.75, -70)
  line L5 (30.178, -66.825) -> (30.178, -70) projected
  point P0 (0, 0)
  dimension "d95" = 3.175
  dimension "d96" = 12.7
  dimension "d97" = 4.572
extrude "Extrusion16" cut sketch "Sketch18" against normal through all
mirror "Mirror1" about plane through (0, 0, 0) normal (0, 1, 0) of "Rectangular Pattern1", "Extrusion3", "Extrusion4", "Extrusion16"
sketch "Sketch19" plane through (0, 0, 3.175) normal (0, 0, 1) x (1, 0, 0)
  line L0 (-98.9, -60.475) -> (41.1, -60.475)
  line L1 (41.1, -60.475) -> (41.1, -20.475)
  line L2 (41.1, -20.475) -> (-98.9, -20.475)
  line L3 (-98.9, -20.475) -> (-98.9, -60.475)
  line L4 (47.45, -66.825) -> (47.45, -70) projected
  line L5 (-92.25, -66.825) -> (-79.55, -66.825) projected
  point P0 (0, 0)
  dimension "d100" = 40
  dimension "d101" = 140
  dimension "d102" = 6.35
  dimension "d103" = 6.35
extrude "Extrusion17" cut sketch "Sketch19" against normal through all
sketch "Sketch20" plane through (0, 0, 3.175) normal (0, 0, 1) x (1, 0, 0)
  line L0 (88.65, 70) -> (47.45, 70) projected
  line L1 (47.45, 70) -> (117.55, 70)
  line L2 (117.55, 70) -> (117.55, 110)
  line L3 (117.55, 110) -> (47.45, 110)
  line L4 (47.45, 110) -> (47.45, 70)
  point P0 (0, 0)
  dimension "d107" = 40
  dimension "d121" = 70.1
extrude "Extrusion18" add sketch "Sketch20" against normal blind 3.175
sketch "Sketch21" plane through (0, 0, 3.175) normal (0, 0, 1) x (1, 0, 0)
  circle A0 centre (80.13, 90) radius 3.5
  line L0 (117.55, 110) -> (47.45, 110) projected
  circle A1 centre (94.13, 90) radius 3.5
  line L1 (47.45, 66.825) -> (47.45, 110) projected
  line L2 (117.55, 70) -> (117.55, 110) projected
  point P0 (0, 0)
  point P1 (117.6746, 70)
  dimension "d110" = 7
  dimension "d111" = 20
  dimension "d112" = 7
  dimension "d113" = 14
  dimension "d122" = 23.42
extrude "Extrusion19" cut sketch "Sketch21" against normal through all
sketch "Sketch22" plane through (0, 0, 3.175) normal (0, 0, 1) x (1, 0, 0)
  line L0 (-98.9, 56.825) -> (41.1, 56.825)
  line L1 (41.1, 56.825) -> (41.1, 36.825)
  line L2 (41.1, 36.825) -> (-98.9, 36.825)
  line L3 (-98.9, 36.825) -> (-98.9, 56.825)
  line L4 (-98.9, -60.475) -> (-98.9, -20.475) projected
  line L5 (41.1, -20.475) -> (41.1, -60.475) projected
  line L6 (-79.55, 66.825) -> (-92.25, 66.825) projected
  point P0 (0, 0)
  dimension "d117" = 20
  dimension "d118" = 10
extrude "Extrusion20" cut sketch "Sketch22" against normal through all
properties part number "3DprinterSideBracket_2.0_noLCD_1%2F8_back"
